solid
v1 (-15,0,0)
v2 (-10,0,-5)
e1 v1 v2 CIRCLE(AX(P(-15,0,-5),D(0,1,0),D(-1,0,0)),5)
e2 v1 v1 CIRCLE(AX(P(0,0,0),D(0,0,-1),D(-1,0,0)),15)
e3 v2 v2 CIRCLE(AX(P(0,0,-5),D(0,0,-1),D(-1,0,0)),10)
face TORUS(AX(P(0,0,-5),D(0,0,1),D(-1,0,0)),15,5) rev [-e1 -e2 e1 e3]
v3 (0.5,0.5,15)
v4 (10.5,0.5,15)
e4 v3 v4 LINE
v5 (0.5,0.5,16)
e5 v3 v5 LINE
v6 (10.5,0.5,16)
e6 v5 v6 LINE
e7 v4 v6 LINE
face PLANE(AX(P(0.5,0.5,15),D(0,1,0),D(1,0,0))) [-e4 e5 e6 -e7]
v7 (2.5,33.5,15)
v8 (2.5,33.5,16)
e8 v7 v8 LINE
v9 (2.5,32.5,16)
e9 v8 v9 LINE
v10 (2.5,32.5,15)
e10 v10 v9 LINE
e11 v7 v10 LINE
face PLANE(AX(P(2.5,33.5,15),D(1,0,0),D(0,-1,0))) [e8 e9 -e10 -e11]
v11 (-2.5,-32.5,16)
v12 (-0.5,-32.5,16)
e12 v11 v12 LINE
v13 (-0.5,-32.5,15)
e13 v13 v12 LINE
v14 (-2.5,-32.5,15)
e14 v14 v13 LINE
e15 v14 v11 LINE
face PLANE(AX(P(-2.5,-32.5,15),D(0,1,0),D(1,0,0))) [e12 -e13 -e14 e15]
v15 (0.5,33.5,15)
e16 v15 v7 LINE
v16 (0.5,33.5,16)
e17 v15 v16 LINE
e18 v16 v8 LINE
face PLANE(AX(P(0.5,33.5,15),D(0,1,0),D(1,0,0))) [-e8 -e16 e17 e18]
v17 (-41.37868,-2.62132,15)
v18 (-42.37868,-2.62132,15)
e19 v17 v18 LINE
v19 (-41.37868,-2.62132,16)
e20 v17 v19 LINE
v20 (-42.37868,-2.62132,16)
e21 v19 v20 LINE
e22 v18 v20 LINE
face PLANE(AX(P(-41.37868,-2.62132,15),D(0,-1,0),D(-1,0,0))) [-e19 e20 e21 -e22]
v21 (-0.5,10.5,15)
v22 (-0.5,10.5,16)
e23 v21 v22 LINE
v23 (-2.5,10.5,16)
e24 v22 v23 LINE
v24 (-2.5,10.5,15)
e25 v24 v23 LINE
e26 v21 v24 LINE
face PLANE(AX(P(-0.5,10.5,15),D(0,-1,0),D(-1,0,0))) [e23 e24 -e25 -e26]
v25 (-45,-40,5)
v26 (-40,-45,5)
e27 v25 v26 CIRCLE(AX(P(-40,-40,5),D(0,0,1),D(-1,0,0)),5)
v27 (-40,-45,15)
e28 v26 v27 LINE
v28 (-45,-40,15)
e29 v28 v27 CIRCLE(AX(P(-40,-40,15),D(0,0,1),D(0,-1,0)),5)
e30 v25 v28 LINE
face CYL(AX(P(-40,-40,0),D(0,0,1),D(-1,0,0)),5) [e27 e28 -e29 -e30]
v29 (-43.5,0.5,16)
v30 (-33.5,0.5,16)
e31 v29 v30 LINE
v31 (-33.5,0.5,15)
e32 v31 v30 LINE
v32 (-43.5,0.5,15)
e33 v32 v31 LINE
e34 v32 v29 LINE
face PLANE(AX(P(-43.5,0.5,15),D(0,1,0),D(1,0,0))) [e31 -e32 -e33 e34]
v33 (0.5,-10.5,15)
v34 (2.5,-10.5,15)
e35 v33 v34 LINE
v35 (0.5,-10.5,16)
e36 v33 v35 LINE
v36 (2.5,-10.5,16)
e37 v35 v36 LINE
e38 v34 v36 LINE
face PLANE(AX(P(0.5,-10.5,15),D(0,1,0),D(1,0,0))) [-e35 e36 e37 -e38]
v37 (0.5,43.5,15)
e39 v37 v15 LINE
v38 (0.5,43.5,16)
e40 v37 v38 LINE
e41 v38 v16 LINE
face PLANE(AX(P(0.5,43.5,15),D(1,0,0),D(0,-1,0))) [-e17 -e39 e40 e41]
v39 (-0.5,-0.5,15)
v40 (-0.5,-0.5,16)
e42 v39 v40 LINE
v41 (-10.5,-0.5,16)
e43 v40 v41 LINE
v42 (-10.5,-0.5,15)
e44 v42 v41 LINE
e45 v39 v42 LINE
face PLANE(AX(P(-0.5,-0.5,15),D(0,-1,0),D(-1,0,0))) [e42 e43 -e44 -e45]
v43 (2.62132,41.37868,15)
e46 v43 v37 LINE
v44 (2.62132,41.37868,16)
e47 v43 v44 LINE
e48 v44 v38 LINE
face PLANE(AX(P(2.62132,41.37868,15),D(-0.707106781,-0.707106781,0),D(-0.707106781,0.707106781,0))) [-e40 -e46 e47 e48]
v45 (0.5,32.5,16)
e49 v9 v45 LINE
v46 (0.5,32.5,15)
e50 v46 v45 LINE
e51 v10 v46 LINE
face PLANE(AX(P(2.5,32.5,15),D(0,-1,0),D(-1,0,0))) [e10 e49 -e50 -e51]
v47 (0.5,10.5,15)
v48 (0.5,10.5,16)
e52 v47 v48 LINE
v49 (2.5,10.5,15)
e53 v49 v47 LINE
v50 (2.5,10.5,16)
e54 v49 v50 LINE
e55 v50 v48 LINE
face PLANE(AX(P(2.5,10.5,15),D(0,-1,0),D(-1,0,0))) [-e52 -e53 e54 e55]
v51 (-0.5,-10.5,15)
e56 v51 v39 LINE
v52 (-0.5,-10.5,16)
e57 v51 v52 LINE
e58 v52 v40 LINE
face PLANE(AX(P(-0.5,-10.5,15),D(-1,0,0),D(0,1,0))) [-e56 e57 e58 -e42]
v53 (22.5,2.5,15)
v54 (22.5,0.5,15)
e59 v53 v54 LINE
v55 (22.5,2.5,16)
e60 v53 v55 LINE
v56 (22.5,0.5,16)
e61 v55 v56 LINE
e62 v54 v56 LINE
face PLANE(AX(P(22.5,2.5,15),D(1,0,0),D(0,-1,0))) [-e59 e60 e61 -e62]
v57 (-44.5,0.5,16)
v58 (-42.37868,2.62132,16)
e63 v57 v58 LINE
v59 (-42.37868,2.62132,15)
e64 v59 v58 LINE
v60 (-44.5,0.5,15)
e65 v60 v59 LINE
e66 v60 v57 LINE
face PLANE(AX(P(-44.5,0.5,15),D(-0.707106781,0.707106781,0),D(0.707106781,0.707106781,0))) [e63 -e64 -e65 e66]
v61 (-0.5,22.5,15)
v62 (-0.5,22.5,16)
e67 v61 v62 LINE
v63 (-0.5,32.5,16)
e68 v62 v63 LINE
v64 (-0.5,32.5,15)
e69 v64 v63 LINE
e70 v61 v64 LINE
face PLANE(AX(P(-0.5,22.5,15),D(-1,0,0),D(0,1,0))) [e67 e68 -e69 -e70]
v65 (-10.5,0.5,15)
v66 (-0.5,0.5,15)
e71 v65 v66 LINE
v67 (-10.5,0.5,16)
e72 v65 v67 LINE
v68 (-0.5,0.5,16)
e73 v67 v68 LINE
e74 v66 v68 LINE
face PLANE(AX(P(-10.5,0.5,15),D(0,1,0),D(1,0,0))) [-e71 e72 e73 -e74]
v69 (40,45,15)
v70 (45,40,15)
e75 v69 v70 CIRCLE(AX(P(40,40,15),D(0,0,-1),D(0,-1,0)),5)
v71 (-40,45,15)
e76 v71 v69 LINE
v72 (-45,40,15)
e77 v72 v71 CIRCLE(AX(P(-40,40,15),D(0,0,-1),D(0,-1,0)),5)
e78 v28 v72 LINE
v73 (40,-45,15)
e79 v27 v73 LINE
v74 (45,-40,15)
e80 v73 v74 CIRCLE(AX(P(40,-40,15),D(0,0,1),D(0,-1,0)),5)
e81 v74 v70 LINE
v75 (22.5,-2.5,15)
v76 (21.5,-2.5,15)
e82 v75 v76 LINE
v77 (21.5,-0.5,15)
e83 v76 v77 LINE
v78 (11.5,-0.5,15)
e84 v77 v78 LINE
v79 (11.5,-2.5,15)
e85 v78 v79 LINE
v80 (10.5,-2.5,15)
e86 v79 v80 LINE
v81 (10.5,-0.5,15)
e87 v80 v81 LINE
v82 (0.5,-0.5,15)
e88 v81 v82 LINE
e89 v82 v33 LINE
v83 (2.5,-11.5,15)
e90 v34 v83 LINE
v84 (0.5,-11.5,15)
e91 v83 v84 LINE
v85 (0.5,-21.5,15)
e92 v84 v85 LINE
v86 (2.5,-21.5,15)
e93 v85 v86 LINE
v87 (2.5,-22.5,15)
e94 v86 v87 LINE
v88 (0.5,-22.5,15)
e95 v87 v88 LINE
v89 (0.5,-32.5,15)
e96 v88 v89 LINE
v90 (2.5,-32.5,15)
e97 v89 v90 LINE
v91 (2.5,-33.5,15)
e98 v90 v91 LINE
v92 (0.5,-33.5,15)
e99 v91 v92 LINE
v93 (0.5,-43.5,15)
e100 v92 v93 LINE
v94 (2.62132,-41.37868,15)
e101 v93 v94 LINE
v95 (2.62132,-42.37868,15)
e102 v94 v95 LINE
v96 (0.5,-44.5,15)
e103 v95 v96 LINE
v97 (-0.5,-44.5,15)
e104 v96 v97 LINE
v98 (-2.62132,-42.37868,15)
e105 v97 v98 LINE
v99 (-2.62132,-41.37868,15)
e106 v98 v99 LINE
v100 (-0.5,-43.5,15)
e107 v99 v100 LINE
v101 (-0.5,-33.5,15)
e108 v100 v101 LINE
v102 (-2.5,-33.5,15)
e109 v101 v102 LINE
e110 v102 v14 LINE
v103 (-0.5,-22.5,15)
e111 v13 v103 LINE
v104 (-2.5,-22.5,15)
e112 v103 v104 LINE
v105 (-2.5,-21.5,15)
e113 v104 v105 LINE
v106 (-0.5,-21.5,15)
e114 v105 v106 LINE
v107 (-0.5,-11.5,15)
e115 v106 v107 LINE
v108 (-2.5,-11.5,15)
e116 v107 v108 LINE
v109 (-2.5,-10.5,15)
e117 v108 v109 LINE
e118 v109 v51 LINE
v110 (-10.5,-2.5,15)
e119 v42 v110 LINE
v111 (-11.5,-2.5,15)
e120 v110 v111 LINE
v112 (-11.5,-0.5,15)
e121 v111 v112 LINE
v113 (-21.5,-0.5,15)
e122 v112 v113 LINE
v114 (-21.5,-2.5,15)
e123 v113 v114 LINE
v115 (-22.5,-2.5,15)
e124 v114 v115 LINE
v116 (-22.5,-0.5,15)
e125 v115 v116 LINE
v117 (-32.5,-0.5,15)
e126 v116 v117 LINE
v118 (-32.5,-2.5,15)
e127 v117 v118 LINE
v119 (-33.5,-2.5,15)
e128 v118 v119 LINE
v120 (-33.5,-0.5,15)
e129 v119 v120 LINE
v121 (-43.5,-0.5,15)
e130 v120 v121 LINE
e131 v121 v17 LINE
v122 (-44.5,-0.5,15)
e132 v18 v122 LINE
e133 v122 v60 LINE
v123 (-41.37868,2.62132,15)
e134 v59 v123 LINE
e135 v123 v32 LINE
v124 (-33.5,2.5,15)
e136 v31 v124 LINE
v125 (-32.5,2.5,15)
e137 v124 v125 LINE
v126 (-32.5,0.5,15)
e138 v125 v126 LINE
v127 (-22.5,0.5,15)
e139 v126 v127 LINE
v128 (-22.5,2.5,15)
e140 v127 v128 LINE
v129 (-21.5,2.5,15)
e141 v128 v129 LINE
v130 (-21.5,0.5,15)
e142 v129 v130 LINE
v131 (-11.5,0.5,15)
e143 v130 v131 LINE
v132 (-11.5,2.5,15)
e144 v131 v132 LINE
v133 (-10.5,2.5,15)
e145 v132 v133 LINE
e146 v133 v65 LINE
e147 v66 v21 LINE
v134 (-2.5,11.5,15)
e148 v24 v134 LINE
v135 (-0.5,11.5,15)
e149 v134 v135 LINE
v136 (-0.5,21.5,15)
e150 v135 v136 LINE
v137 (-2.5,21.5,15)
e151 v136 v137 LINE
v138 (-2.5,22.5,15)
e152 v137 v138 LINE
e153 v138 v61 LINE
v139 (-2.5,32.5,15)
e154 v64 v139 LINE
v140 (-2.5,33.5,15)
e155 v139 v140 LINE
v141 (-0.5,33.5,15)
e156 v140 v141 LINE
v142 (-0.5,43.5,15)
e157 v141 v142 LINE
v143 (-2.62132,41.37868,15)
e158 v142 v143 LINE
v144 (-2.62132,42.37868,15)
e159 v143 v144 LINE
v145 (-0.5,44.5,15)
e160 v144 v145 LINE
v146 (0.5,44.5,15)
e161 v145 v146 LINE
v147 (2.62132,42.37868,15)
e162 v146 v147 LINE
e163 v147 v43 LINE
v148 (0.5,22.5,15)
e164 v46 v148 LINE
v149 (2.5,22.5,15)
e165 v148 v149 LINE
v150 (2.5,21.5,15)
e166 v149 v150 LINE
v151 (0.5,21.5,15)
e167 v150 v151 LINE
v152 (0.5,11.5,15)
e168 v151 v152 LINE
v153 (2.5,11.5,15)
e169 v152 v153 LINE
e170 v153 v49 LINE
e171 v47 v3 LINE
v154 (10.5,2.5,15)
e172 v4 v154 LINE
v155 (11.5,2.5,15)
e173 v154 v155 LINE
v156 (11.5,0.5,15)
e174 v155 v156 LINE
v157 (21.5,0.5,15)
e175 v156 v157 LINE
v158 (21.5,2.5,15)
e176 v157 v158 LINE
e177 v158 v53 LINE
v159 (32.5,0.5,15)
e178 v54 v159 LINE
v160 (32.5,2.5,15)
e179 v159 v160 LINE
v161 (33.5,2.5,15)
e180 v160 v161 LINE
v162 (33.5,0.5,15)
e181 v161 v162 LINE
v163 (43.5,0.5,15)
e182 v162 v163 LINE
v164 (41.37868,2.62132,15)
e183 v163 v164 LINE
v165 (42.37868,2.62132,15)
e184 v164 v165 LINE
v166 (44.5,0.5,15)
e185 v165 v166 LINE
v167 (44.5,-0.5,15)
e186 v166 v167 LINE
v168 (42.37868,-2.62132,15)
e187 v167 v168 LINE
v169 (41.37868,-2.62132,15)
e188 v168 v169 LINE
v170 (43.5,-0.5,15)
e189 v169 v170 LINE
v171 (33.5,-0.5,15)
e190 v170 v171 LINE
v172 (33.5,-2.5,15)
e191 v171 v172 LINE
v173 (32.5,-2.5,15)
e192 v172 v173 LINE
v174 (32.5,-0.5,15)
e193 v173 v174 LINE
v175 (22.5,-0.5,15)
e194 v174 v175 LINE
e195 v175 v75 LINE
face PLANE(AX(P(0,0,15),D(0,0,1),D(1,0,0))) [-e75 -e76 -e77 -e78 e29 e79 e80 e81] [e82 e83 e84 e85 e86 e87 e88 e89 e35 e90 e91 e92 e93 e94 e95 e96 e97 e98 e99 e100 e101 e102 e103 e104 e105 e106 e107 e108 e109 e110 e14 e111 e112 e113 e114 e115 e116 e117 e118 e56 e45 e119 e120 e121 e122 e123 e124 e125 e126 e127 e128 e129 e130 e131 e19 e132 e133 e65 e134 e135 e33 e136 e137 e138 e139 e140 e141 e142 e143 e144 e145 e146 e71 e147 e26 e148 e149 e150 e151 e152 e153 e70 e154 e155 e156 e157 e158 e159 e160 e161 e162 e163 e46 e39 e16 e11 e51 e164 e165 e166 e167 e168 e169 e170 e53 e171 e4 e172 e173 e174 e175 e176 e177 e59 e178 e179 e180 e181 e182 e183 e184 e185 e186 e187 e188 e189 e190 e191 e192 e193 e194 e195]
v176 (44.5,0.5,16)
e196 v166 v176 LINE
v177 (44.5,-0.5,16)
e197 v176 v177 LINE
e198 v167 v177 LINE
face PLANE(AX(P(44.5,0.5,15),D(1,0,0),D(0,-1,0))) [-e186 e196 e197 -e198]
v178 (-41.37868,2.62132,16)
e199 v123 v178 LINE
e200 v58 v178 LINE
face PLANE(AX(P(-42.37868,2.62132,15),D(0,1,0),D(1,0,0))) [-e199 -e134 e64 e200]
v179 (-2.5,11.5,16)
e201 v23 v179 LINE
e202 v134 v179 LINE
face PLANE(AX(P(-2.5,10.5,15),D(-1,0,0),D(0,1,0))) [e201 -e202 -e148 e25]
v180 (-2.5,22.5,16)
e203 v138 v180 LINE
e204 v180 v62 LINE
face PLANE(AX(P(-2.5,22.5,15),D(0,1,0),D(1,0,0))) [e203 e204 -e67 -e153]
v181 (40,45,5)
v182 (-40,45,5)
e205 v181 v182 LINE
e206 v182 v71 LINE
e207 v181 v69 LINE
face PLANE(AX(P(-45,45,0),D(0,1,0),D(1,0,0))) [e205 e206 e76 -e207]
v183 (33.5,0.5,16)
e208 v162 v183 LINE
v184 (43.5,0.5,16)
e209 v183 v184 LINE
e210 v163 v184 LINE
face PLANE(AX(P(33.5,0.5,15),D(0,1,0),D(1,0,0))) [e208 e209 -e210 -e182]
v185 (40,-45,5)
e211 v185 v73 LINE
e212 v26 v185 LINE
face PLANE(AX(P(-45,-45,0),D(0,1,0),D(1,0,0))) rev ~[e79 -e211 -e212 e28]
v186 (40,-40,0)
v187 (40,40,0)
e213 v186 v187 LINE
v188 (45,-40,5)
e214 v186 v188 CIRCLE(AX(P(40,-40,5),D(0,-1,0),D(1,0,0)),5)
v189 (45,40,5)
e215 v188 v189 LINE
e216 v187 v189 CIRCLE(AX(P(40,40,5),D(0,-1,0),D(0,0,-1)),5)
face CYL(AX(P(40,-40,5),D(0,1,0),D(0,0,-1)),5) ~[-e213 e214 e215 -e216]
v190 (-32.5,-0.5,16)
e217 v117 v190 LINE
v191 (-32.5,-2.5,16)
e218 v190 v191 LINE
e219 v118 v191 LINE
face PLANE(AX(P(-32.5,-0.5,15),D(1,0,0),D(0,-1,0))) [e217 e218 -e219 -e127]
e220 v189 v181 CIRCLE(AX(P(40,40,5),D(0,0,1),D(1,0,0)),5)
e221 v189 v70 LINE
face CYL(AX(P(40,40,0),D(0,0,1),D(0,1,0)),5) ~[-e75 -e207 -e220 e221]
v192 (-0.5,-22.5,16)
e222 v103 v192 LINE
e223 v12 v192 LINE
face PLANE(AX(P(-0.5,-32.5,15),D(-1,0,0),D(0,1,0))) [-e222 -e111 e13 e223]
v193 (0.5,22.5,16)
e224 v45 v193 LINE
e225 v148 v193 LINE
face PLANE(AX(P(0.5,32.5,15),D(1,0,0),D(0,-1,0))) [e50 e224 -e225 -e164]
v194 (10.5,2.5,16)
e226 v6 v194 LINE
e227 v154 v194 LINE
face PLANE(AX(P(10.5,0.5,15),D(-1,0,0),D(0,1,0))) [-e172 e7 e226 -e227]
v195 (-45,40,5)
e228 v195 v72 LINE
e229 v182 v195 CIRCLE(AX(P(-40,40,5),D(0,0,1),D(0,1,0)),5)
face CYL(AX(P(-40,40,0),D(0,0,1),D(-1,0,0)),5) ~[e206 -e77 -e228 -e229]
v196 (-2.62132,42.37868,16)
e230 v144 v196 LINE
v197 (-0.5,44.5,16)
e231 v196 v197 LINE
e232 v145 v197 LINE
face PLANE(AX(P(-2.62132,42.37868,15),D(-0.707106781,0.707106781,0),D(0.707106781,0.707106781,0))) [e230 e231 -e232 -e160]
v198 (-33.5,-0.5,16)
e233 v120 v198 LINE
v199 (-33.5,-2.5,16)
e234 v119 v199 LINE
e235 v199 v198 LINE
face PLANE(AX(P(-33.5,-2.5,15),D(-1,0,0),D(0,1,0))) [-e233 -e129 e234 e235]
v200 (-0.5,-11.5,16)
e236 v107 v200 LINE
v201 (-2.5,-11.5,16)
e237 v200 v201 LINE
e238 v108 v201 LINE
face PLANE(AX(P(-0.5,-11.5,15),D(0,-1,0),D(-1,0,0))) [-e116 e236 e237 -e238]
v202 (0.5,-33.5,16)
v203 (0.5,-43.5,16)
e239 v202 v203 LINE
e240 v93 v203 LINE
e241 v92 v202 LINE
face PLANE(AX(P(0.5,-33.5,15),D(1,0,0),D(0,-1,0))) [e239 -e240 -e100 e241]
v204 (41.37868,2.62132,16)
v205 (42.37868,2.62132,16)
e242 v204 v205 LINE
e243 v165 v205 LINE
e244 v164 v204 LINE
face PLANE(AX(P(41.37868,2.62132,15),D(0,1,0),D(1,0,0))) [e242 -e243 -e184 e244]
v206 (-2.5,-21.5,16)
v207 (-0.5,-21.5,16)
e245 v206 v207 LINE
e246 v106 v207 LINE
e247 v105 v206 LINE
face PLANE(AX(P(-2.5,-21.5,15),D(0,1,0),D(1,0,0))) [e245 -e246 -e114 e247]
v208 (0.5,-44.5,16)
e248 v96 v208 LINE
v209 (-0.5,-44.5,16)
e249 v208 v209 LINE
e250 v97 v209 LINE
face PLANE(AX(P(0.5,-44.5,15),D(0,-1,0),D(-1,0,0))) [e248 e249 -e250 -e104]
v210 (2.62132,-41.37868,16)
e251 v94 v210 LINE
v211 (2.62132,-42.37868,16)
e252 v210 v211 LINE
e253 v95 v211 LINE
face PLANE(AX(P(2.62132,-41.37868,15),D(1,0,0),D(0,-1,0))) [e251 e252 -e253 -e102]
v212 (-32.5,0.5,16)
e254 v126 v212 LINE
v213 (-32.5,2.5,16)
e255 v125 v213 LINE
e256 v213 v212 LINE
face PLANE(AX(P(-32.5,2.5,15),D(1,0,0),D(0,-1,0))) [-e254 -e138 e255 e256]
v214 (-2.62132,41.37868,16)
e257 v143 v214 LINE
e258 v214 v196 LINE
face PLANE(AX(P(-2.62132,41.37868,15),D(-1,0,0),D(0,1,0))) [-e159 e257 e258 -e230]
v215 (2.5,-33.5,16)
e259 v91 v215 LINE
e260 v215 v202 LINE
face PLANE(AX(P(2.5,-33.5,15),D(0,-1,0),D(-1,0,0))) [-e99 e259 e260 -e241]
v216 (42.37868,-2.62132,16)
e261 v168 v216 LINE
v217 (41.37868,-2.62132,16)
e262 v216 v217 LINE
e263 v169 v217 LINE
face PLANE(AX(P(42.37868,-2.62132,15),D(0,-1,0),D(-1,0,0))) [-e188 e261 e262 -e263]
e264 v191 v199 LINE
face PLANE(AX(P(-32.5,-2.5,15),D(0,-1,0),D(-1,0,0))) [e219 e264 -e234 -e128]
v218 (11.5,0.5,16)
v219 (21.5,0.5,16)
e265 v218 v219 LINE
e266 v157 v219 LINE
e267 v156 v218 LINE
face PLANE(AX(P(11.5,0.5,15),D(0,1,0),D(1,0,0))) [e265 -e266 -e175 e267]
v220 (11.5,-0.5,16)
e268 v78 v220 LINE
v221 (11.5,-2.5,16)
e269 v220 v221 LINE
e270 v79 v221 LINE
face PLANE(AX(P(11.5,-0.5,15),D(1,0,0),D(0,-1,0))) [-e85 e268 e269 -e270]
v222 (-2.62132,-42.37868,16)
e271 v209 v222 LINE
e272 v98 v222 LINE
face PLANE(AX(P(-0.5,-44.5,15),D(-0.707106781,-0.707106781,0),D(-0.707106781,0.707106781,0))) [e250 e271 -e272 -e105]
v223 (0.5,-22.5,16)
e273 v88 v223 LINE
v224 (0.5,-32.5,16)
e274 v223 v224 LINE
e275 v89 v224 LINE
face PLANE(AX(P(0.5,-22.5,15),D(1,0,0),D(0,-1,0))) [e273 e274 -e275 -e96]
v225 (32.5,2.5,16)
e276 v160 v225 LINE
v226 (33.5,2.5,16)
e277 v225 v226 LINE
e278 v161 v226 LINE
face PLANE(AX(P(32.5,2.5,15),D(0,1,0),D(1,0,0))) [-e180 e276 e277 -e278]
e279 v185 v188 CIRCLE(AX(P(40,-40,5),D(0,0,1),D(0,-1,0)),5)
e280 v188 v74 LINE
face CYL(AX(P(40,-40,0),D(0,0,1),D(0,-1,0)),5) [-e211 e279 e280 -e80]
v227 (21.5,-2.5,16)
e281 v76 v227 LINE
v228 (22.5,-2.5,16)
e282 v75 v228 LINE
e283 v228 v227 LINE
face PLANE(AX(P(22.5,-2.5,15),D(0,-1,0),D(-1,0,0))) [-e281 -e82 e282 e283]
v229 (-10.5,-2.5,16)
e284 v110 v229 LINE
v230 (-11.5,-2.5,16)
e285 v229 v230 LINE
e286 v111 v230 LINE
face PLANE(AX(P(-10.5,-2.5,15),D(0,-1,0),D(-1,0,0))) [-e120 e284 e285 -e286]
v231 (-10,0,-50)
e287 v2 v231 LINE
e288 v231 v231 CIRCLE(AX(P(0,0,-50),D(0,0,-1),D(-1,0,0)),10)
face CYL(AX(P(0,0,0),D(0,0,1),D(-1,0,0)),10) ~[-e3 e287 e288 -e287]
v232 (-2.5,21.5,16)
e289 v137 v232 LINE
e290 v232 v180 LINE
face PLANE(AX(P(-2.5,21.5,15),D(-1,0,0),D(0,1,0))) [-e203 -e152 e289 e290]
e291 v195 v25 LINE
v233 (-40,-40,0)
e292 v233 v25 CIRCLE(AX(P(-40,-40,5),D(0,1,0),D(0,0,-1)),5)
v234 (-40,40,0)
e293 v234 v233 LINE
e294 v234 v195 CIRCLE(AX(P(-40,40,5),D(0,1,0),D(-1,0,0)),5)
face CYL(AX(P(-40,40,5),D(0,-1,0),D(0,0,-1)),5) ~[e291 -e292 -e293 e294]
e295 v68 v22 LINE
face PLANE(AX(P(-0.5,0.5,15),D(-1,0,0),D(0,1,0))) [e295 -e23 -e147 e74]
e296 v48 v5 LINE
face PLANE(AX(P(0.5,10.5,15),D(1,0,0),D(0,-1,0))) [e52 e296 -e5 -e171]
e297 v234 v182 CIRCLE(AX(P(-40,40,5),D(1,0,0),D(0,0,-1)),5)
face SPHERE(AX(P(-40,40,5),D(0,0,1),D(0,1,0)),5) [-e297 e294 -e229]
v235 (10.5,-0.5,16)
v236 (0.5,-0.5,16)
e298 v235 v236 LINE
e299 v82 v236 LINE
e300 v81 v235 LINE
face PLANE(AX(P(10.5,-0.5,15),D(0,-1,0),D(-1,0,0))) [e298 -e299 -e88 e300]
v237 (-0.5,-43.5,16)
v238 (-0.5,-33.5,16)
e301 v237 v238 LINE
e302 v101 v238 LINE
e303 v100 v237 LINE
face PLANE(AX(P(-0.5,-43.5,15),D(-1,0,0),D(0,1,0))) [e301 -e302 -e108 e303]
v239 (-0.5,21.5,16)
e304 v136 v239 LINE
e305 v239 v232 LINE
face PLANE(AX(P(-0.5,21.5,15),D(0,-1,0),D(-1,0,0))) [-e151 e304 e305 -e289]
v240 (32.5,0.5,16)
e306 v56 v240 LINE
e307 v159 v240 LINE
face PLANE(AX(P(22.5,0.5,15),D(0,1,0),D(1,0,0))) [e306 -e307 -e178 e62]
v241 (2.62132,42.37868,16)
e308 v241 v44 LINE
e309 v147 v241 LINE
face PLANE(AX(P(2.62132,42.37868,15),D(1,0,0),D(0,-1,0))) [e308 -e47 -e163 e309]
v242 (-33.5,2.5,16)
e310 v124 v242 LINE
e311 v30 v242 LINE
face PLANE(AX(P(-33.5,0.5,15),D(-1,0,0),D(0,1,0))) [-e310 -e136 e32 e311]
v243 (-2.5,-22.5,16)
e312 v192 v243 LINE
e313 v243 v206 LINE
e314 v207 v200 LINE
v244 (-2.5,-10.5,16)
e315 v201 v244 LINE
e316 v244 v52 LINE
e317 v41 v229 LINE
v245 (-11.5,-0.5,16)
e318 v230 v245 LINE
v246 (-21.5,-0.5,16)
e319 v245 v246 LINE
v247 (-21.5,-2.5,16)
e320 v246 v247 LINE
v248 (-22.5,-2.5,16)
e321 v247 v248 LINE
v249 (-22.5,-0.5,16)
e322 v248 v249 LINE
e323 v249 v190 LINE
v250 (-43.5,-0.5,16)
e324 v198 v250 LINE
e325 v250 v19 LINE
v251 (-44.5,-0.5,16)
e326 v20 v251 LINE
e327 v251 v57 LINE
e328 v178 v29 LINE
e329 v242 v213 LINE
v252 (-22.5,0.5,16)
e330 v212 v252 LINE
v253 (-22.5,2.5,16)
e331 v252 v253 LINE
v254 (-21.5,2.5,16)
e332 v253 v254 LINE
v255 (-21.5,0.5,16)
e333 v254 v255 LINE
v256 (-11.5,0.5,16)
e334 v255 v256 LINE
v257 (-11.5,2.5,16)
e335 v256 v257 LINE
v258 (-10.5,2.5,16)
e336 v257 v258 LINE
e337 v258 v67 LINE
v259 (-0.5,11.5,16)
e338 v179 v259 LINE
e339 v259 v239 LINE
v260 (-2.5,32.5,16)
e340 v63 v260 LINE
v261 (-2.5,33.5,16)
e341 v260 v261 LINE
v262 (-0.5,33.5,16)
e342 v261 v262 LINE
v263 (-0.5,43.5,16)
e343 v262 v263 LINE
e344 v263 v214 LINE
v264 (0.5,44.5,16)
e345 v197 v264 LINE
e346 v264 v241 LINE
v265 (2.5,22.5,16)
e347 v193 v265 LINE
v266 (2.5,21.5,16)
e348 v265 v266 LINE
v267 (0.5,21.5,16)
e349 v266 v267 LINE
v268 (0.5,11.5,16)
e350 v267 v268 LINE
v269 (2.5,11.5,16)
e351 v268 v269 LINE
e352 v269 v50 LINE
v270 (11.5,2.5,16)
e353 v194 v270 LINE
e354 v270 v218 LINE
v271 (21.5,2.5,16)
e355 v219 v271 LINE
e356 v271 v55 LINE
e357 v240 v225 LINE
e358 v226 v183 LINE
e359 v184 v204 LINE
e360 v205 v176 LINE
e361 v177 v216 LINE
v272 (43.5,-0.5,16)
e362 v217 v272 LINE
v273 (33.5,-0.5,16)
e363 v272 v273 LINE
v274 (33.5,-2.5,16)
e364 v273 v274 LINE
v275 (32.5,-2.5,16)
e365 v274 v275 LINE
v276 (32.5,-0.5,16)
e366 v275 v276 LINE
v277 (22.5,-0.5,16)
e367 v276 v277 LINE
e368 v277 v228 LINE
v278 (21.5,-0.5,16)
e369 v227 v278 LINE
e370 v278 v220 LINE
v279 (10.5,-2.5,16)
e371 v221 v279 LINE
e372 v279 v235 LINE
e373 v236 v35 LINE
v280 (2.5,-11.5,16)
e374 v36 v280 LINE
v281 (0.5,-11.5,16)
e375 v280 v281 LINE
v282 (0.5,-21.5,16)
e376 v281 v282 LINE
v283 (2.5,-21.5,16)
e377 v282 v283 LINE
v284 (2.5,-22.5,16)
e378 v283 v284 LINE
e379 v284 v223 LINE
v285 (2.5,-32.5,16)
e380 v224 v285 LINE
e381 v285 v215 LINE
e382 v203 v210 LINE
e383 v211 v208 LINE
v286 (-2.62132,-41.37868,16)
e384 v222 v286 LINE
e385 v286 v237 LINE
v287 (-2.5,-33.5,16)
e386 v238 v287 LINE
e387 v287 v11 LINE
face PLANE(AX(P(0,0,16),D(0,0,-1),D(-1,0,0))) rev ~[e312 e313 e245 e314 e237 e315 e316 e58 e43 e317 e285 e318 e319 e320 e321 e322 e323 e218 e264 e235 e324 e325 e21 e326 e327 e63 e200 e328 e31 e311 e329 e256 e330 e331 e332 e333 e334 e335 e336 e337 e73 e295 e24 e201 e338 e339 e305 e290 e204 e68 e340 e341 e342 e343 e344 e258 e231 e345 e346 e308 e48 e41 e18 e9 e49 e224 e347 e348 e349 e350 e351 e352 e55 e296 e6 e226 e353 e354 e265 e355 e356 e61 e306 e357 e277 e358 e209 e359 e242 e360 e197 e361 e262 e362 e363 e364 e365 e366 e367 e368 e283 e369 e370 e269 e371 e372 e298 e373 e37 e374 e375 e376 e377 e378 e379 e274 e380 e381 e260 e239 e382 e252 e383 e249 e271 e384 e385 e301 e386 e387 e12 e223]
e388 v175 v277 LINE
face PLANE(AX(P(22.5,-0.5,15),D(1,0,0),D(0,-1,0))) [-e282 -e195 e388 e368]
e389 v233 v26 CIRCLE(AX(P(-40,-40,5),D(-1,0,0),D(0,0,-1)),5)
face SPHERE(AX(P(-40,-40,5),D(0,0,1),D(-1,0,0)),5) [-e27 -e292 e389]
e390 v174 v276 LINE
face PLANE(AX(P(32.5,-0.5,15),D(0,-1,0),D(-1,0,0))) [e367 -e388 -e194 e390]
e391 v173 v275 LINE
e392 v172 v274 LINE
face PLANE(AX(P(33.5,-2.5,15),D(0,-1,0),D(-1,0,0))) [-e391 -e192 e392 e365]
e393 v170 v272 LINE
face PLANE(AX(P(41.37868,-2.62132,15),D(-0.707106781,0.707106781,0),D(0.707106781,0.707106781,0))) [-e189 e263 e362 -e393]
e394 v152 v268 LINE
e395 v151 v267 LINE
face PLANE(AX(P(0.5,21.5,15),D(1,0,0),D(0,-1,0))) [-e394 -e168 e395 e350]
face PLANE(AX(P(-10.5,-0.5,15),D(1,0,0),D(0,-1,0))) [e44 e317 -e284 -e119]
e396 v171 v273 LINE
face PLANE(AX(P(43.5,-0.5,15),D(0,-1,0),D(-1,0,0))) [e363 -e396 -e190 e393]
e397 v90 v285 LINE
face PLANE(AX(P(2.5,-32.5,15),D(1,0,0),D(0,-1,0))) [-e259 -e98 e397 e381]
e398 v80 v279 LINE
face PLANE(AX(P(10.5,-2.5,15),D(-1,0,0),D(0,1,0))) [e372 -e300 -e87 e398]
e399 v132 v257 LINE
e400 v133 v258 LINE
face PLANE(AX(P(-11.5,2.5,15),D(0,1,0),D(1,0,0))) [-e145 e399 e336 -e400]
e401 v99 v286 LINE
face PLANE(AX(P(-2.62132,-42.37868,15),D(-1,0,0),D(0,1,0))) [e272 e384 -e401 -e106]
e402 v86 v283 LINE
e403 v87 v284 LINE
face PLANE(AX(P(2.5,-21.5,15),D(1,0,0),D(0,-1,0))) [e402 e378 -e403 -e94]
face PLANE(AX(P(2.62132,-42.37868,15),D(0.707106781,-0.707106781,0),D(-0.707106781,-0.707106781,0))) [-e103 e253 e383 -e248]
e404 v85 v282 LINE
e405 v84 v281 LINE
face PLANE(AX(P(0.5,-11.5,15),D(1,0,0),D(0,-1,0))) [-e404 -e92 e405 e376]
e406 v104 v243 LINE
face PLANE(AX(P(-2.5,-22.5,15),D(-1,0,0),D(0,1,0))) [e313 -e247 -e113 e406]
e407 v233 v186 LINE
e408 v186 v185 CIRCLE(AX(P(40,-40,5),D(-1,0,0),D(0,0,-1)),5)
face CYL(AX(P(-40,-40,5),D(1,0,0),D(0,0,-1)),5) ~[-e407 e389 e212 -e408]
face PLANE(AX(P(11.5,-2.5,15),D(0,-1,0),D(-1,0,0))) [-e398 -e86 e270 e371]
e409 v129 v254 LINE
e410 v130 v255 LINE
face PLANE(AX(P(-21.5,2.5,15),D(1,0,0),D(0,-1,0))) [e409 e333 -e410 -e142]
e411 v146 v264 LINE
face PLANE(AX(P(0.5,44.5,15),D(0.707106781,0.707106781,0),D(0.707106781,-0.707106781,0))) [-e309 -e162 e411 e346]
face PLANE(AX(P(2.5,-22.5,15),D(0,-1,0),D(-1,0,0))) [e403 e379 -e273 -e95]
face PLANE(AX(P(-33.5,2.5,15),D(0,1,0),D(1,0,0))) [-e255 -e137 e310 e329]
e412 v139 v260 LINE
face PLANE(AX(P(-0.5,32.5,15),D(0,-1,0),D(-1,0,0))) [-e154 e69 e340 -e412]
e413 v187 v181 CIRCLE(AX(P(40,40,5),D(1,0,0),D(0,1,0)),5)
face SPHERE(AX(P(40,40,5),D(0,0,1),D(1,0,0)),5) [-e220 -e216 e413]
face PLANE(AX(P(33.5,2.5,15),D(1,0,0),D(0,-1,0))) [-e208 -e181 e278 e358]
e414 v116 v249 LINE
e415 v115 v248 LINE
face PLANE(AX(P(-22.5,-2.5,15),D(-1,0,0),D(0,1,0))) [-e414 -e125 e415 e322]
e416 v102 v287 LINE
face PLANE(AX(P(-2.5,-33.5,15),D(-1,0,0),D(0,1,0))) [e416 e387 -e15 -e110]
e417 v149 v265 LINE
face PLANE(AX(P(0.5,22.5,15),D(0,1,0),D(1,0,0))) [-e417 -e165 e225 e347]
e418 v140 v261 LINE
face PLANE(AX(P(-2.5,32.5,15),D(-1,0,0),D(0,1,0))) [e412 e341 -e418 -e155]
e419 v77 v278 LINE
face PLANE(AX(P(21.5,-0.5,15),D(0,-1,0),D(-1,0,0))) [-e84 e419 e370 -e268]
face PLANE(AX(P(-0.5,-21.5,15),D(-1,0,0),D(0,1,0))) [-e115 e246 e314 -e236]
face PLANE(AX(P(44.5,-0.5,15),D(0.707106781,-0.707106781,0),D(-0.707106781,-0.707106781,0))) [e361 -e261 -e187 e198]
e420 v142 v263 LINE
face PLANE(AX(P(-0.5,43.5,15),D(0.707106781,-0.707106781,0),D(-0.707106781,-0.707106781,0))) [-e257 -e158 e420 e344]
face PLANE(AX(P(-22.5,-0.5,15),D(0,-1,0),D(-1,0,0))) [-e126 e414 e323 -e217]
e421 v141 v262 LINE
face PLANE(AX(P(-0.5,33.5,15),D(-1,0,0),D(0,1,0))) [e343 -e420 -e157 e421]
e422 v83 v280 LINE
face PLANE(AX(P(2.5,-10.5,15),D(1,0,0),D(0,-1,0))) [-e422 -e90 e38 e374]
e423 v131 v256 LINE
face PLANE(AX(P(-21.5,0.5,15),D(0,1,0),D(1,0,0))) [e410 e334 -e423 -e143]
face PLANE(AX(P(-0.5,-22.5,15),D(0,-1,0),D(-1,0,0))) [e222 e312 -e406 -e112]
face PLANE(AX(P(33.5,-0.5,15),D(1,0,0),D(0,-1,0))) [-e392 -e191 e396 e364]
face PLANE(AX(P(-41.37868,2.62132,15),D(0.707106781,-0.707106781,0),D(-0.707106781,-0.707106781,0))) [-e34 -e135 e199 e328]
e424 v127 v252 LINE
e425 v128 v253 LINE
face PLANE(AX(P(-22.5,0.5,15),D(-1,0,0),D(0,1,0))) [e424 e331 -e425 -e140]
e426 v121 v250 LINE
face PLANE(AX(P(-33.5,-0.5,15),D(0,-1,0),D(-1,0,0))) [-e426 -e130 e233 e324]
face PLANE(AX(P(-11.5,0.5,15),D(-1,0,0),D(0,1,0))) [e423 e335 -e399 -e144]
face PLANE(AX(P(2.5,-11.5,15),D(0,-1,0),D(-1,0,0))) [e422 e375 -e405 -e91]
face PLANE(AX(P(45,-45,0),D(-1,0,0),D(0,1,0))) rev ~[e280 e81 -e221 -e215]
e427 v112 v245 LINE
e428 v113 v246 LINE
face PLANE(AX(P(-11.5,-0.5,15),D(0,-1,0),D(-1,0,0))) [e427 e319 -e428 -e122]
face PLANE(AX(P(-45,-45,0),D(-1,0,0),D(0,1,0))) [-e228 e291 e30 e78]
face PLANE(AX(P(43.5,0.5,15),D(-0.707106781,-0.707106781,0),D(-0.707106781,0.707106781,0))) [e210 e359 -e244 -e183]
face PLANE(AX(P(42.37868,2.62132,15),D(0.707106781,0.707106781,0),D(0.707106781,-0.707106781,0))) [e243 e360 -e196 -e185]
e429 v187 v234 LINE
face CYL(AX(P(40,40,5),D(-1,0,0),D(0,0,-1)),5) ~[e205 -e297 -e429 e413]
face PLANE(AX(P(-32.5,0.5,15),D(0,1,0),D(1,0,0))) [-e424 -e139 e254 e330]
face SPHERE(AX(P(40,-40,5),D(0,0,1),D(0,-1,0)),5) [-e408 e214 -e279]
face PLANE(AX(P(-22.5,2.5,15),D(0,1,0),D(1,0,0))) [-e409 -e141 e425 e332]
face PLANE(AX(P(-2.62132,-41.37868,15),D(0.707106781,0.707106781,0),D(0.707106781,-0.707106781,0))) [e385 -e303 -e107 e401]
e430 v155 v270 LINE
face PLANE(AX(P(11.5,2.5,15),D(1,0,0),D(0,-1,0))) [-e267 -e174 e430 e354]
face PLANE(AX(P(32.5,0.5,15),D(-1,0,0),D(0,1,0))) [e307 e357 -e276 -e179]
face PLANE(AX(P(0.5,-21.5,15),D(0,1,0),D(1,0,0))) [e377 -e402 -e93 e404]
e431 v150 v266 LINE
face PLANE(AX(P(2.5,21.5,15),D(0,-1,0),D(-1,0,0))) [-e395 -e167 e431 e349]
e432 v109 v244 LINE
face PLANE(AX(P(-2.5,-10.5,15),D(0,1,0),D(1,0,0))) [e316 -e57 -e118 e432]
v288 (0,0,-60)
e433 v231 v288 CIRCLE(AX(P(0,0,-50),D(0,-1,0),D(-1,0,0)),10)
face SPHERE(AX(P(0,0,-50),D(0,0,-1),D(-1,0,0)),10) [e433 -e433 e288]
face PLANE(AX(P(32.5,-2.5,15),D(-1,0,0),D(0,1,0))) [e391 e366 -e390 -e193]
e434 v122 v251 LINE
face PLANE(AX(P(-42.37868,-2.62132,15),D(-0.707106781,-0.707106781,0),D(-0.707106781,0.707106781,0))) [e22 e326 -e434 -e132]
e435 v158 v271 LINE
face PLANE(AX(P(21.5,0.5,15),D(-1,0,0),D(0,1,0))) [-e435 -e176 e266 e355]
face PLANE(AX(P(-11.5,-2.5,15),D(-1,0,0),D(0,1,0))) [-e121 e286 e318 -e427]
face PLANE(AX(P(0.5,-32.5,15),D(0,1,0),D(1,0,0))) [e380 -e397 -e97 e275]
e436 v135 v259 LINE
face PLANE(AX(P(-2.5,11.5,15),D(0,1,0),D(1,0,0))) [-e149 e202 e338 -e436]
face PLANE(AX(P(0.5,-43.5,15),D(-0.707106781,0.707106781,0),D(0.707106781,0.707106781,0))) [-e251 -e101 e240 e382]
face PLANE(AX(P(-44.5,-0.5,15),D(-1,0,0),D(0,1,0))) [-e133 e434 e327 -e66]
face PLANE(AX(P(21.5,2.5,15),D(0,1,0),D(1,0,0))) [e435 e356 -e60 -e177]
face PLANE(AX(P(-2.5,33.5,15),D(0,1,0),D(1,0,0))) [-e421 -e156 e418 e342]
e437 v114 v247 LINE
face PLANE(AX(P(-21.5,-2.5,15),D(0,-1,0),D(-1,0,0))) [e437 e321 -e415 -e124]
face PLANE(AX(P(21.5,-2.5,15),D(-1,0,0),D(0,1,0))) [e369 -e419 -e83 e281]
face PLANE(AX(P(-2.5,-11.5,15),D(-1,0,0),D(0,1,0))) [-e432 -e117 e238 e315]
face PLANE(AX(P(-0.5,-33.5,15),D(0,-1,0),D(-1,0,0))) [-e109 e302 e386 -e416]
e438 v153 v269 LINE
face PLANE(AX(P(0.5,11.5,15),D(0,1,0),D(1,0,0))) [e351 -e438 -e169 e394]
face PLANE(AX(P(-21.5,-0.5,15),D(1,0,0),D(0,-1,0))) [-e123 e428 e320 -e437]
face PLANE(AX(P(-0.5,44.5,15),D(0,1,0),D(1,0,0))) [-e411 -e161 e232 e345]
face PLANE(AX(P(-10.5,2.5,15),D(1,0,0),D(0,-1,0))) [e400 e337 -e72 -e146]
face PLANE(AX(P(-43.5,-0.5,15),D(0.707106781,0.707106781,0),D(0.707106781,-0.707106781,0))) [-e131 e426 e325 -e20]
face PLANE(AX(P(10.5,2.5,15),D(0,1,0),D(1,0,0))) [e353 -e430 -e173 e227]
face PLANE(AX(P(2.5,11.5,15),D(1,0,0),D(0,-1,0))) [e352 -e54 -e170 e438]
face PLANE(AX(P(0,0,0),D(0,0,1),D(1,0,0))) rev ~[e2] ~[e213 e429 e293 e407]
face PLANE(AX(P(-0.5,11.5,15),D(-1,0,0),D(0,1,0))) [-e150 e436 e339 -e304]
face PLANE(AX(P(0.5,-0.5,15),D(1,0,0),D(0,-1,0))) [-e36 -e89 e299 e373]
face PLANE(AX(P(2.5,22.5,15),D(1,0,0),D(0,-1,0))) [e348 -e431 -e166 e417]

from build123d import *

# Parameters (mm, degrees)
CROQUIS1_W              = 90
CROQUIS1_H              = 90
SALIENTE_EXTRUIR2_DEPTH = 15
CROQUIS2_R              = 10
SALIENTE_EXTRUIR3_DEPTH = 60
SALIENTE_EXTRUIR4_DEPTH = 1
REDONDEO1_R             = 5
REDONDEO2_R             = 5
REDONDEO3_R             = 5
REDONDEO4_R             = 10


with BuildPart() as part:
    # Croquis1 → Saliente-Extruir2 (new body)
    with BuildSketch(Plane.XY):
        Rectangle(CROQUIS1_W, CROQUIS1_H)
    extrude(amount=SALIENTE_EXTRUIR2_DEPTH)

    # Croquis2 → Saliente-Extruir3 (add)
    with BuildSketch(Plane(origin=(0, 0, 0), x_dir=(-1, 0, 0), z_dir=(0, 0, -1))):
        Circle(CROQUIS2_R)
    extrude(amount=SALIENTE_EXTRUIR3_DEPTH)

    # Croquis3 → Saliente-Extruir4 (add)
    with BuildSketch(Plane.XY.offset(15)):
        Polygon((10.5, 0.5), (10.5, 2.5), (11.5, 2.5), (11.5, 0.5), (21.5, 0.5), (21.5, 2.5), (22.5, 2.5), (22.5, 0.5), (32.5, 0.5), (32.5, 2.5), (33.5, 2.5), (33.5, 0.5), (43.5, 0.5), (41.378679656, 2.621320344), (42.378679656, 2.621320344), (44.5, 0.5), (44.5, -0.5), (42.378679656, -2.621320344), (41.378679656, -2.621320344), (43.5, -0.5), (33.5, -0.5), (33.5, -2.5), (32.5, -2.5), (32.5, -0.5), (22.5, -0.5), (22.5, -2.5), (21.5, -2.5), (21.5, -0.5), (11.5, -0.5), (11.5, -2.5), (10.5, -2.5), (10.5, -0.5), (0.5, -0.5), (0.5, -10.5), (2.5, -10.5), (2.5, -11.5), (0.5, -11.5), (0.5, -21.5), (2.5, -21.5), (2.5, -22.5), (0.5, -22.5), (0.5, -32.5), (2.5, -32.5), (2.5, -33.5), (0.5, -33.5), (0.5, -43.5), (2.621320344, -41.378679656), (2.621320344, -42.378679656), (0.5, -44.5), (-0.5, -44.5), (-2.621320344, -42.378679656), (-2.621320344, -41.378679656), (-0.5, -43.5), (-0.5, -33.5), (-2.5, -33.5), (-2.5, -32.5), (-0.5, -32.5), (-0.5, -22.5), (-2.5, -22.5), (-2.5, -21.5), (-0.5, -21.5), (-0.5, -11.5), (-2.5, -11.5), (-2.5, -10.5), (-0.5, -10.5), (-0.5, -0.5), (-10.5, -0.5), (-10.5, -2.5), (-11.5, -2.5), (-11.5, -0.5), (-21.5, -0.5), (-21.5, -2.5), (-22.5, -2.5), (-22.5, -0.5), (-32.5, -0.5), (-32.5, -2.5), (-33.5, -2.5), (-33.5, -0.5), (-43.5, -0.5), (-41.378679656, -2.621320344), (-42.378679656, -2.621320344), (-44.5, -0.5), (-44.5, 0.5), (-42.378679656, 2.621320344), (-41.378679656, 2.621320344), (-43.5, 0.5), (-33.5, 0.5), (-33.5, 2.5), (-32.5, 2.5), (-32.5, 0.5), (-22.5, 0.5), (-22.5, 2.5), (-21.5, 2.5), (-21.5, 0.5), (-11.5, 0.5), (-11.5, 2.5), (-10.5, 2.5), (-10.5, 0.5), (-0.5, 0.5), (-0.5, 10.5), (-2.5, 10.5), (-2.5, 11.5), (-0.5, 11.5), (-0.5, 21.5), (-2.5, 21.5), (-2.5, 22.5), (-0.5, 22.5), (-0.5, 32.5), (-2.5, 32.5), (-2.5, 33.5), (-0.5, 33.5), (-0.5, 43.5), (-2.621320344, 41.378679656), (-2.621320344, 42.378679656), (-0.5, 44.5), (0.5, 44.5), (2.621320344, 42.378679656), (2.621320344, 41.378679656), (0.5, 43.5), (0.5, 33.5), (2.5, 33.5), (2.5, 32.5), (0.5, 32.5), (0.5, 22.5), (2.5, 22.5), (2.5, 21.5), (0.5, 21.5), (0.5, 11.5), (2.5, 11.5), (2.5, 10.5), (0.5, 10.5), (0.5, 0.5), align=None)
    extrude(amount=SALIENTE_EXTRUIR4_DEPTH)

    # Redondeo1
    redondeo1_edges = [part.edges().sort_by_distance(p)[0] for p in [
        (45, -45, 7.5),
        (-45, -45, 7.5),
        (-45, 45, 7.5),
        (45, 45, 7.5),
    ]]
    fillet(redondeo1_edges, radius=REDONDEO1_R)

    # Redondeo2
    redondeo2_edges = [part.edges().sort_by_distance(p)[0] for p in [
        (0, -45, 0),
        (45, 0, 0),
        (-45, 0, 0),
        (0, 45, 0),
        (43.535533906, 43.535533906, 0),
        (-43.535533906, 43.535533906, 0),
        (43.535533906, -43.535533906, 0),
        (-43.535533906, -43.535533906, 0),
    ]]
    fillet(redondeo2_edges, radius=REDONDEO2_R)

    # Redondeo3
    redondeo3_edges = [part.edges().sort_by_distance(p)[0] for p in [
        (10, 0, 0),
    ]]
    fillet(redondeo3_edges, radius=REDONDEO3_R)

    # Redondeo4
    redondeo4_edges = [part.edges().sort_by_distance(p)[0] for p in [
        (10, 0, -60),
    ]]
    fillet(redondeo4_edges, radius=REDONDEO4_R)


solid = part.part
